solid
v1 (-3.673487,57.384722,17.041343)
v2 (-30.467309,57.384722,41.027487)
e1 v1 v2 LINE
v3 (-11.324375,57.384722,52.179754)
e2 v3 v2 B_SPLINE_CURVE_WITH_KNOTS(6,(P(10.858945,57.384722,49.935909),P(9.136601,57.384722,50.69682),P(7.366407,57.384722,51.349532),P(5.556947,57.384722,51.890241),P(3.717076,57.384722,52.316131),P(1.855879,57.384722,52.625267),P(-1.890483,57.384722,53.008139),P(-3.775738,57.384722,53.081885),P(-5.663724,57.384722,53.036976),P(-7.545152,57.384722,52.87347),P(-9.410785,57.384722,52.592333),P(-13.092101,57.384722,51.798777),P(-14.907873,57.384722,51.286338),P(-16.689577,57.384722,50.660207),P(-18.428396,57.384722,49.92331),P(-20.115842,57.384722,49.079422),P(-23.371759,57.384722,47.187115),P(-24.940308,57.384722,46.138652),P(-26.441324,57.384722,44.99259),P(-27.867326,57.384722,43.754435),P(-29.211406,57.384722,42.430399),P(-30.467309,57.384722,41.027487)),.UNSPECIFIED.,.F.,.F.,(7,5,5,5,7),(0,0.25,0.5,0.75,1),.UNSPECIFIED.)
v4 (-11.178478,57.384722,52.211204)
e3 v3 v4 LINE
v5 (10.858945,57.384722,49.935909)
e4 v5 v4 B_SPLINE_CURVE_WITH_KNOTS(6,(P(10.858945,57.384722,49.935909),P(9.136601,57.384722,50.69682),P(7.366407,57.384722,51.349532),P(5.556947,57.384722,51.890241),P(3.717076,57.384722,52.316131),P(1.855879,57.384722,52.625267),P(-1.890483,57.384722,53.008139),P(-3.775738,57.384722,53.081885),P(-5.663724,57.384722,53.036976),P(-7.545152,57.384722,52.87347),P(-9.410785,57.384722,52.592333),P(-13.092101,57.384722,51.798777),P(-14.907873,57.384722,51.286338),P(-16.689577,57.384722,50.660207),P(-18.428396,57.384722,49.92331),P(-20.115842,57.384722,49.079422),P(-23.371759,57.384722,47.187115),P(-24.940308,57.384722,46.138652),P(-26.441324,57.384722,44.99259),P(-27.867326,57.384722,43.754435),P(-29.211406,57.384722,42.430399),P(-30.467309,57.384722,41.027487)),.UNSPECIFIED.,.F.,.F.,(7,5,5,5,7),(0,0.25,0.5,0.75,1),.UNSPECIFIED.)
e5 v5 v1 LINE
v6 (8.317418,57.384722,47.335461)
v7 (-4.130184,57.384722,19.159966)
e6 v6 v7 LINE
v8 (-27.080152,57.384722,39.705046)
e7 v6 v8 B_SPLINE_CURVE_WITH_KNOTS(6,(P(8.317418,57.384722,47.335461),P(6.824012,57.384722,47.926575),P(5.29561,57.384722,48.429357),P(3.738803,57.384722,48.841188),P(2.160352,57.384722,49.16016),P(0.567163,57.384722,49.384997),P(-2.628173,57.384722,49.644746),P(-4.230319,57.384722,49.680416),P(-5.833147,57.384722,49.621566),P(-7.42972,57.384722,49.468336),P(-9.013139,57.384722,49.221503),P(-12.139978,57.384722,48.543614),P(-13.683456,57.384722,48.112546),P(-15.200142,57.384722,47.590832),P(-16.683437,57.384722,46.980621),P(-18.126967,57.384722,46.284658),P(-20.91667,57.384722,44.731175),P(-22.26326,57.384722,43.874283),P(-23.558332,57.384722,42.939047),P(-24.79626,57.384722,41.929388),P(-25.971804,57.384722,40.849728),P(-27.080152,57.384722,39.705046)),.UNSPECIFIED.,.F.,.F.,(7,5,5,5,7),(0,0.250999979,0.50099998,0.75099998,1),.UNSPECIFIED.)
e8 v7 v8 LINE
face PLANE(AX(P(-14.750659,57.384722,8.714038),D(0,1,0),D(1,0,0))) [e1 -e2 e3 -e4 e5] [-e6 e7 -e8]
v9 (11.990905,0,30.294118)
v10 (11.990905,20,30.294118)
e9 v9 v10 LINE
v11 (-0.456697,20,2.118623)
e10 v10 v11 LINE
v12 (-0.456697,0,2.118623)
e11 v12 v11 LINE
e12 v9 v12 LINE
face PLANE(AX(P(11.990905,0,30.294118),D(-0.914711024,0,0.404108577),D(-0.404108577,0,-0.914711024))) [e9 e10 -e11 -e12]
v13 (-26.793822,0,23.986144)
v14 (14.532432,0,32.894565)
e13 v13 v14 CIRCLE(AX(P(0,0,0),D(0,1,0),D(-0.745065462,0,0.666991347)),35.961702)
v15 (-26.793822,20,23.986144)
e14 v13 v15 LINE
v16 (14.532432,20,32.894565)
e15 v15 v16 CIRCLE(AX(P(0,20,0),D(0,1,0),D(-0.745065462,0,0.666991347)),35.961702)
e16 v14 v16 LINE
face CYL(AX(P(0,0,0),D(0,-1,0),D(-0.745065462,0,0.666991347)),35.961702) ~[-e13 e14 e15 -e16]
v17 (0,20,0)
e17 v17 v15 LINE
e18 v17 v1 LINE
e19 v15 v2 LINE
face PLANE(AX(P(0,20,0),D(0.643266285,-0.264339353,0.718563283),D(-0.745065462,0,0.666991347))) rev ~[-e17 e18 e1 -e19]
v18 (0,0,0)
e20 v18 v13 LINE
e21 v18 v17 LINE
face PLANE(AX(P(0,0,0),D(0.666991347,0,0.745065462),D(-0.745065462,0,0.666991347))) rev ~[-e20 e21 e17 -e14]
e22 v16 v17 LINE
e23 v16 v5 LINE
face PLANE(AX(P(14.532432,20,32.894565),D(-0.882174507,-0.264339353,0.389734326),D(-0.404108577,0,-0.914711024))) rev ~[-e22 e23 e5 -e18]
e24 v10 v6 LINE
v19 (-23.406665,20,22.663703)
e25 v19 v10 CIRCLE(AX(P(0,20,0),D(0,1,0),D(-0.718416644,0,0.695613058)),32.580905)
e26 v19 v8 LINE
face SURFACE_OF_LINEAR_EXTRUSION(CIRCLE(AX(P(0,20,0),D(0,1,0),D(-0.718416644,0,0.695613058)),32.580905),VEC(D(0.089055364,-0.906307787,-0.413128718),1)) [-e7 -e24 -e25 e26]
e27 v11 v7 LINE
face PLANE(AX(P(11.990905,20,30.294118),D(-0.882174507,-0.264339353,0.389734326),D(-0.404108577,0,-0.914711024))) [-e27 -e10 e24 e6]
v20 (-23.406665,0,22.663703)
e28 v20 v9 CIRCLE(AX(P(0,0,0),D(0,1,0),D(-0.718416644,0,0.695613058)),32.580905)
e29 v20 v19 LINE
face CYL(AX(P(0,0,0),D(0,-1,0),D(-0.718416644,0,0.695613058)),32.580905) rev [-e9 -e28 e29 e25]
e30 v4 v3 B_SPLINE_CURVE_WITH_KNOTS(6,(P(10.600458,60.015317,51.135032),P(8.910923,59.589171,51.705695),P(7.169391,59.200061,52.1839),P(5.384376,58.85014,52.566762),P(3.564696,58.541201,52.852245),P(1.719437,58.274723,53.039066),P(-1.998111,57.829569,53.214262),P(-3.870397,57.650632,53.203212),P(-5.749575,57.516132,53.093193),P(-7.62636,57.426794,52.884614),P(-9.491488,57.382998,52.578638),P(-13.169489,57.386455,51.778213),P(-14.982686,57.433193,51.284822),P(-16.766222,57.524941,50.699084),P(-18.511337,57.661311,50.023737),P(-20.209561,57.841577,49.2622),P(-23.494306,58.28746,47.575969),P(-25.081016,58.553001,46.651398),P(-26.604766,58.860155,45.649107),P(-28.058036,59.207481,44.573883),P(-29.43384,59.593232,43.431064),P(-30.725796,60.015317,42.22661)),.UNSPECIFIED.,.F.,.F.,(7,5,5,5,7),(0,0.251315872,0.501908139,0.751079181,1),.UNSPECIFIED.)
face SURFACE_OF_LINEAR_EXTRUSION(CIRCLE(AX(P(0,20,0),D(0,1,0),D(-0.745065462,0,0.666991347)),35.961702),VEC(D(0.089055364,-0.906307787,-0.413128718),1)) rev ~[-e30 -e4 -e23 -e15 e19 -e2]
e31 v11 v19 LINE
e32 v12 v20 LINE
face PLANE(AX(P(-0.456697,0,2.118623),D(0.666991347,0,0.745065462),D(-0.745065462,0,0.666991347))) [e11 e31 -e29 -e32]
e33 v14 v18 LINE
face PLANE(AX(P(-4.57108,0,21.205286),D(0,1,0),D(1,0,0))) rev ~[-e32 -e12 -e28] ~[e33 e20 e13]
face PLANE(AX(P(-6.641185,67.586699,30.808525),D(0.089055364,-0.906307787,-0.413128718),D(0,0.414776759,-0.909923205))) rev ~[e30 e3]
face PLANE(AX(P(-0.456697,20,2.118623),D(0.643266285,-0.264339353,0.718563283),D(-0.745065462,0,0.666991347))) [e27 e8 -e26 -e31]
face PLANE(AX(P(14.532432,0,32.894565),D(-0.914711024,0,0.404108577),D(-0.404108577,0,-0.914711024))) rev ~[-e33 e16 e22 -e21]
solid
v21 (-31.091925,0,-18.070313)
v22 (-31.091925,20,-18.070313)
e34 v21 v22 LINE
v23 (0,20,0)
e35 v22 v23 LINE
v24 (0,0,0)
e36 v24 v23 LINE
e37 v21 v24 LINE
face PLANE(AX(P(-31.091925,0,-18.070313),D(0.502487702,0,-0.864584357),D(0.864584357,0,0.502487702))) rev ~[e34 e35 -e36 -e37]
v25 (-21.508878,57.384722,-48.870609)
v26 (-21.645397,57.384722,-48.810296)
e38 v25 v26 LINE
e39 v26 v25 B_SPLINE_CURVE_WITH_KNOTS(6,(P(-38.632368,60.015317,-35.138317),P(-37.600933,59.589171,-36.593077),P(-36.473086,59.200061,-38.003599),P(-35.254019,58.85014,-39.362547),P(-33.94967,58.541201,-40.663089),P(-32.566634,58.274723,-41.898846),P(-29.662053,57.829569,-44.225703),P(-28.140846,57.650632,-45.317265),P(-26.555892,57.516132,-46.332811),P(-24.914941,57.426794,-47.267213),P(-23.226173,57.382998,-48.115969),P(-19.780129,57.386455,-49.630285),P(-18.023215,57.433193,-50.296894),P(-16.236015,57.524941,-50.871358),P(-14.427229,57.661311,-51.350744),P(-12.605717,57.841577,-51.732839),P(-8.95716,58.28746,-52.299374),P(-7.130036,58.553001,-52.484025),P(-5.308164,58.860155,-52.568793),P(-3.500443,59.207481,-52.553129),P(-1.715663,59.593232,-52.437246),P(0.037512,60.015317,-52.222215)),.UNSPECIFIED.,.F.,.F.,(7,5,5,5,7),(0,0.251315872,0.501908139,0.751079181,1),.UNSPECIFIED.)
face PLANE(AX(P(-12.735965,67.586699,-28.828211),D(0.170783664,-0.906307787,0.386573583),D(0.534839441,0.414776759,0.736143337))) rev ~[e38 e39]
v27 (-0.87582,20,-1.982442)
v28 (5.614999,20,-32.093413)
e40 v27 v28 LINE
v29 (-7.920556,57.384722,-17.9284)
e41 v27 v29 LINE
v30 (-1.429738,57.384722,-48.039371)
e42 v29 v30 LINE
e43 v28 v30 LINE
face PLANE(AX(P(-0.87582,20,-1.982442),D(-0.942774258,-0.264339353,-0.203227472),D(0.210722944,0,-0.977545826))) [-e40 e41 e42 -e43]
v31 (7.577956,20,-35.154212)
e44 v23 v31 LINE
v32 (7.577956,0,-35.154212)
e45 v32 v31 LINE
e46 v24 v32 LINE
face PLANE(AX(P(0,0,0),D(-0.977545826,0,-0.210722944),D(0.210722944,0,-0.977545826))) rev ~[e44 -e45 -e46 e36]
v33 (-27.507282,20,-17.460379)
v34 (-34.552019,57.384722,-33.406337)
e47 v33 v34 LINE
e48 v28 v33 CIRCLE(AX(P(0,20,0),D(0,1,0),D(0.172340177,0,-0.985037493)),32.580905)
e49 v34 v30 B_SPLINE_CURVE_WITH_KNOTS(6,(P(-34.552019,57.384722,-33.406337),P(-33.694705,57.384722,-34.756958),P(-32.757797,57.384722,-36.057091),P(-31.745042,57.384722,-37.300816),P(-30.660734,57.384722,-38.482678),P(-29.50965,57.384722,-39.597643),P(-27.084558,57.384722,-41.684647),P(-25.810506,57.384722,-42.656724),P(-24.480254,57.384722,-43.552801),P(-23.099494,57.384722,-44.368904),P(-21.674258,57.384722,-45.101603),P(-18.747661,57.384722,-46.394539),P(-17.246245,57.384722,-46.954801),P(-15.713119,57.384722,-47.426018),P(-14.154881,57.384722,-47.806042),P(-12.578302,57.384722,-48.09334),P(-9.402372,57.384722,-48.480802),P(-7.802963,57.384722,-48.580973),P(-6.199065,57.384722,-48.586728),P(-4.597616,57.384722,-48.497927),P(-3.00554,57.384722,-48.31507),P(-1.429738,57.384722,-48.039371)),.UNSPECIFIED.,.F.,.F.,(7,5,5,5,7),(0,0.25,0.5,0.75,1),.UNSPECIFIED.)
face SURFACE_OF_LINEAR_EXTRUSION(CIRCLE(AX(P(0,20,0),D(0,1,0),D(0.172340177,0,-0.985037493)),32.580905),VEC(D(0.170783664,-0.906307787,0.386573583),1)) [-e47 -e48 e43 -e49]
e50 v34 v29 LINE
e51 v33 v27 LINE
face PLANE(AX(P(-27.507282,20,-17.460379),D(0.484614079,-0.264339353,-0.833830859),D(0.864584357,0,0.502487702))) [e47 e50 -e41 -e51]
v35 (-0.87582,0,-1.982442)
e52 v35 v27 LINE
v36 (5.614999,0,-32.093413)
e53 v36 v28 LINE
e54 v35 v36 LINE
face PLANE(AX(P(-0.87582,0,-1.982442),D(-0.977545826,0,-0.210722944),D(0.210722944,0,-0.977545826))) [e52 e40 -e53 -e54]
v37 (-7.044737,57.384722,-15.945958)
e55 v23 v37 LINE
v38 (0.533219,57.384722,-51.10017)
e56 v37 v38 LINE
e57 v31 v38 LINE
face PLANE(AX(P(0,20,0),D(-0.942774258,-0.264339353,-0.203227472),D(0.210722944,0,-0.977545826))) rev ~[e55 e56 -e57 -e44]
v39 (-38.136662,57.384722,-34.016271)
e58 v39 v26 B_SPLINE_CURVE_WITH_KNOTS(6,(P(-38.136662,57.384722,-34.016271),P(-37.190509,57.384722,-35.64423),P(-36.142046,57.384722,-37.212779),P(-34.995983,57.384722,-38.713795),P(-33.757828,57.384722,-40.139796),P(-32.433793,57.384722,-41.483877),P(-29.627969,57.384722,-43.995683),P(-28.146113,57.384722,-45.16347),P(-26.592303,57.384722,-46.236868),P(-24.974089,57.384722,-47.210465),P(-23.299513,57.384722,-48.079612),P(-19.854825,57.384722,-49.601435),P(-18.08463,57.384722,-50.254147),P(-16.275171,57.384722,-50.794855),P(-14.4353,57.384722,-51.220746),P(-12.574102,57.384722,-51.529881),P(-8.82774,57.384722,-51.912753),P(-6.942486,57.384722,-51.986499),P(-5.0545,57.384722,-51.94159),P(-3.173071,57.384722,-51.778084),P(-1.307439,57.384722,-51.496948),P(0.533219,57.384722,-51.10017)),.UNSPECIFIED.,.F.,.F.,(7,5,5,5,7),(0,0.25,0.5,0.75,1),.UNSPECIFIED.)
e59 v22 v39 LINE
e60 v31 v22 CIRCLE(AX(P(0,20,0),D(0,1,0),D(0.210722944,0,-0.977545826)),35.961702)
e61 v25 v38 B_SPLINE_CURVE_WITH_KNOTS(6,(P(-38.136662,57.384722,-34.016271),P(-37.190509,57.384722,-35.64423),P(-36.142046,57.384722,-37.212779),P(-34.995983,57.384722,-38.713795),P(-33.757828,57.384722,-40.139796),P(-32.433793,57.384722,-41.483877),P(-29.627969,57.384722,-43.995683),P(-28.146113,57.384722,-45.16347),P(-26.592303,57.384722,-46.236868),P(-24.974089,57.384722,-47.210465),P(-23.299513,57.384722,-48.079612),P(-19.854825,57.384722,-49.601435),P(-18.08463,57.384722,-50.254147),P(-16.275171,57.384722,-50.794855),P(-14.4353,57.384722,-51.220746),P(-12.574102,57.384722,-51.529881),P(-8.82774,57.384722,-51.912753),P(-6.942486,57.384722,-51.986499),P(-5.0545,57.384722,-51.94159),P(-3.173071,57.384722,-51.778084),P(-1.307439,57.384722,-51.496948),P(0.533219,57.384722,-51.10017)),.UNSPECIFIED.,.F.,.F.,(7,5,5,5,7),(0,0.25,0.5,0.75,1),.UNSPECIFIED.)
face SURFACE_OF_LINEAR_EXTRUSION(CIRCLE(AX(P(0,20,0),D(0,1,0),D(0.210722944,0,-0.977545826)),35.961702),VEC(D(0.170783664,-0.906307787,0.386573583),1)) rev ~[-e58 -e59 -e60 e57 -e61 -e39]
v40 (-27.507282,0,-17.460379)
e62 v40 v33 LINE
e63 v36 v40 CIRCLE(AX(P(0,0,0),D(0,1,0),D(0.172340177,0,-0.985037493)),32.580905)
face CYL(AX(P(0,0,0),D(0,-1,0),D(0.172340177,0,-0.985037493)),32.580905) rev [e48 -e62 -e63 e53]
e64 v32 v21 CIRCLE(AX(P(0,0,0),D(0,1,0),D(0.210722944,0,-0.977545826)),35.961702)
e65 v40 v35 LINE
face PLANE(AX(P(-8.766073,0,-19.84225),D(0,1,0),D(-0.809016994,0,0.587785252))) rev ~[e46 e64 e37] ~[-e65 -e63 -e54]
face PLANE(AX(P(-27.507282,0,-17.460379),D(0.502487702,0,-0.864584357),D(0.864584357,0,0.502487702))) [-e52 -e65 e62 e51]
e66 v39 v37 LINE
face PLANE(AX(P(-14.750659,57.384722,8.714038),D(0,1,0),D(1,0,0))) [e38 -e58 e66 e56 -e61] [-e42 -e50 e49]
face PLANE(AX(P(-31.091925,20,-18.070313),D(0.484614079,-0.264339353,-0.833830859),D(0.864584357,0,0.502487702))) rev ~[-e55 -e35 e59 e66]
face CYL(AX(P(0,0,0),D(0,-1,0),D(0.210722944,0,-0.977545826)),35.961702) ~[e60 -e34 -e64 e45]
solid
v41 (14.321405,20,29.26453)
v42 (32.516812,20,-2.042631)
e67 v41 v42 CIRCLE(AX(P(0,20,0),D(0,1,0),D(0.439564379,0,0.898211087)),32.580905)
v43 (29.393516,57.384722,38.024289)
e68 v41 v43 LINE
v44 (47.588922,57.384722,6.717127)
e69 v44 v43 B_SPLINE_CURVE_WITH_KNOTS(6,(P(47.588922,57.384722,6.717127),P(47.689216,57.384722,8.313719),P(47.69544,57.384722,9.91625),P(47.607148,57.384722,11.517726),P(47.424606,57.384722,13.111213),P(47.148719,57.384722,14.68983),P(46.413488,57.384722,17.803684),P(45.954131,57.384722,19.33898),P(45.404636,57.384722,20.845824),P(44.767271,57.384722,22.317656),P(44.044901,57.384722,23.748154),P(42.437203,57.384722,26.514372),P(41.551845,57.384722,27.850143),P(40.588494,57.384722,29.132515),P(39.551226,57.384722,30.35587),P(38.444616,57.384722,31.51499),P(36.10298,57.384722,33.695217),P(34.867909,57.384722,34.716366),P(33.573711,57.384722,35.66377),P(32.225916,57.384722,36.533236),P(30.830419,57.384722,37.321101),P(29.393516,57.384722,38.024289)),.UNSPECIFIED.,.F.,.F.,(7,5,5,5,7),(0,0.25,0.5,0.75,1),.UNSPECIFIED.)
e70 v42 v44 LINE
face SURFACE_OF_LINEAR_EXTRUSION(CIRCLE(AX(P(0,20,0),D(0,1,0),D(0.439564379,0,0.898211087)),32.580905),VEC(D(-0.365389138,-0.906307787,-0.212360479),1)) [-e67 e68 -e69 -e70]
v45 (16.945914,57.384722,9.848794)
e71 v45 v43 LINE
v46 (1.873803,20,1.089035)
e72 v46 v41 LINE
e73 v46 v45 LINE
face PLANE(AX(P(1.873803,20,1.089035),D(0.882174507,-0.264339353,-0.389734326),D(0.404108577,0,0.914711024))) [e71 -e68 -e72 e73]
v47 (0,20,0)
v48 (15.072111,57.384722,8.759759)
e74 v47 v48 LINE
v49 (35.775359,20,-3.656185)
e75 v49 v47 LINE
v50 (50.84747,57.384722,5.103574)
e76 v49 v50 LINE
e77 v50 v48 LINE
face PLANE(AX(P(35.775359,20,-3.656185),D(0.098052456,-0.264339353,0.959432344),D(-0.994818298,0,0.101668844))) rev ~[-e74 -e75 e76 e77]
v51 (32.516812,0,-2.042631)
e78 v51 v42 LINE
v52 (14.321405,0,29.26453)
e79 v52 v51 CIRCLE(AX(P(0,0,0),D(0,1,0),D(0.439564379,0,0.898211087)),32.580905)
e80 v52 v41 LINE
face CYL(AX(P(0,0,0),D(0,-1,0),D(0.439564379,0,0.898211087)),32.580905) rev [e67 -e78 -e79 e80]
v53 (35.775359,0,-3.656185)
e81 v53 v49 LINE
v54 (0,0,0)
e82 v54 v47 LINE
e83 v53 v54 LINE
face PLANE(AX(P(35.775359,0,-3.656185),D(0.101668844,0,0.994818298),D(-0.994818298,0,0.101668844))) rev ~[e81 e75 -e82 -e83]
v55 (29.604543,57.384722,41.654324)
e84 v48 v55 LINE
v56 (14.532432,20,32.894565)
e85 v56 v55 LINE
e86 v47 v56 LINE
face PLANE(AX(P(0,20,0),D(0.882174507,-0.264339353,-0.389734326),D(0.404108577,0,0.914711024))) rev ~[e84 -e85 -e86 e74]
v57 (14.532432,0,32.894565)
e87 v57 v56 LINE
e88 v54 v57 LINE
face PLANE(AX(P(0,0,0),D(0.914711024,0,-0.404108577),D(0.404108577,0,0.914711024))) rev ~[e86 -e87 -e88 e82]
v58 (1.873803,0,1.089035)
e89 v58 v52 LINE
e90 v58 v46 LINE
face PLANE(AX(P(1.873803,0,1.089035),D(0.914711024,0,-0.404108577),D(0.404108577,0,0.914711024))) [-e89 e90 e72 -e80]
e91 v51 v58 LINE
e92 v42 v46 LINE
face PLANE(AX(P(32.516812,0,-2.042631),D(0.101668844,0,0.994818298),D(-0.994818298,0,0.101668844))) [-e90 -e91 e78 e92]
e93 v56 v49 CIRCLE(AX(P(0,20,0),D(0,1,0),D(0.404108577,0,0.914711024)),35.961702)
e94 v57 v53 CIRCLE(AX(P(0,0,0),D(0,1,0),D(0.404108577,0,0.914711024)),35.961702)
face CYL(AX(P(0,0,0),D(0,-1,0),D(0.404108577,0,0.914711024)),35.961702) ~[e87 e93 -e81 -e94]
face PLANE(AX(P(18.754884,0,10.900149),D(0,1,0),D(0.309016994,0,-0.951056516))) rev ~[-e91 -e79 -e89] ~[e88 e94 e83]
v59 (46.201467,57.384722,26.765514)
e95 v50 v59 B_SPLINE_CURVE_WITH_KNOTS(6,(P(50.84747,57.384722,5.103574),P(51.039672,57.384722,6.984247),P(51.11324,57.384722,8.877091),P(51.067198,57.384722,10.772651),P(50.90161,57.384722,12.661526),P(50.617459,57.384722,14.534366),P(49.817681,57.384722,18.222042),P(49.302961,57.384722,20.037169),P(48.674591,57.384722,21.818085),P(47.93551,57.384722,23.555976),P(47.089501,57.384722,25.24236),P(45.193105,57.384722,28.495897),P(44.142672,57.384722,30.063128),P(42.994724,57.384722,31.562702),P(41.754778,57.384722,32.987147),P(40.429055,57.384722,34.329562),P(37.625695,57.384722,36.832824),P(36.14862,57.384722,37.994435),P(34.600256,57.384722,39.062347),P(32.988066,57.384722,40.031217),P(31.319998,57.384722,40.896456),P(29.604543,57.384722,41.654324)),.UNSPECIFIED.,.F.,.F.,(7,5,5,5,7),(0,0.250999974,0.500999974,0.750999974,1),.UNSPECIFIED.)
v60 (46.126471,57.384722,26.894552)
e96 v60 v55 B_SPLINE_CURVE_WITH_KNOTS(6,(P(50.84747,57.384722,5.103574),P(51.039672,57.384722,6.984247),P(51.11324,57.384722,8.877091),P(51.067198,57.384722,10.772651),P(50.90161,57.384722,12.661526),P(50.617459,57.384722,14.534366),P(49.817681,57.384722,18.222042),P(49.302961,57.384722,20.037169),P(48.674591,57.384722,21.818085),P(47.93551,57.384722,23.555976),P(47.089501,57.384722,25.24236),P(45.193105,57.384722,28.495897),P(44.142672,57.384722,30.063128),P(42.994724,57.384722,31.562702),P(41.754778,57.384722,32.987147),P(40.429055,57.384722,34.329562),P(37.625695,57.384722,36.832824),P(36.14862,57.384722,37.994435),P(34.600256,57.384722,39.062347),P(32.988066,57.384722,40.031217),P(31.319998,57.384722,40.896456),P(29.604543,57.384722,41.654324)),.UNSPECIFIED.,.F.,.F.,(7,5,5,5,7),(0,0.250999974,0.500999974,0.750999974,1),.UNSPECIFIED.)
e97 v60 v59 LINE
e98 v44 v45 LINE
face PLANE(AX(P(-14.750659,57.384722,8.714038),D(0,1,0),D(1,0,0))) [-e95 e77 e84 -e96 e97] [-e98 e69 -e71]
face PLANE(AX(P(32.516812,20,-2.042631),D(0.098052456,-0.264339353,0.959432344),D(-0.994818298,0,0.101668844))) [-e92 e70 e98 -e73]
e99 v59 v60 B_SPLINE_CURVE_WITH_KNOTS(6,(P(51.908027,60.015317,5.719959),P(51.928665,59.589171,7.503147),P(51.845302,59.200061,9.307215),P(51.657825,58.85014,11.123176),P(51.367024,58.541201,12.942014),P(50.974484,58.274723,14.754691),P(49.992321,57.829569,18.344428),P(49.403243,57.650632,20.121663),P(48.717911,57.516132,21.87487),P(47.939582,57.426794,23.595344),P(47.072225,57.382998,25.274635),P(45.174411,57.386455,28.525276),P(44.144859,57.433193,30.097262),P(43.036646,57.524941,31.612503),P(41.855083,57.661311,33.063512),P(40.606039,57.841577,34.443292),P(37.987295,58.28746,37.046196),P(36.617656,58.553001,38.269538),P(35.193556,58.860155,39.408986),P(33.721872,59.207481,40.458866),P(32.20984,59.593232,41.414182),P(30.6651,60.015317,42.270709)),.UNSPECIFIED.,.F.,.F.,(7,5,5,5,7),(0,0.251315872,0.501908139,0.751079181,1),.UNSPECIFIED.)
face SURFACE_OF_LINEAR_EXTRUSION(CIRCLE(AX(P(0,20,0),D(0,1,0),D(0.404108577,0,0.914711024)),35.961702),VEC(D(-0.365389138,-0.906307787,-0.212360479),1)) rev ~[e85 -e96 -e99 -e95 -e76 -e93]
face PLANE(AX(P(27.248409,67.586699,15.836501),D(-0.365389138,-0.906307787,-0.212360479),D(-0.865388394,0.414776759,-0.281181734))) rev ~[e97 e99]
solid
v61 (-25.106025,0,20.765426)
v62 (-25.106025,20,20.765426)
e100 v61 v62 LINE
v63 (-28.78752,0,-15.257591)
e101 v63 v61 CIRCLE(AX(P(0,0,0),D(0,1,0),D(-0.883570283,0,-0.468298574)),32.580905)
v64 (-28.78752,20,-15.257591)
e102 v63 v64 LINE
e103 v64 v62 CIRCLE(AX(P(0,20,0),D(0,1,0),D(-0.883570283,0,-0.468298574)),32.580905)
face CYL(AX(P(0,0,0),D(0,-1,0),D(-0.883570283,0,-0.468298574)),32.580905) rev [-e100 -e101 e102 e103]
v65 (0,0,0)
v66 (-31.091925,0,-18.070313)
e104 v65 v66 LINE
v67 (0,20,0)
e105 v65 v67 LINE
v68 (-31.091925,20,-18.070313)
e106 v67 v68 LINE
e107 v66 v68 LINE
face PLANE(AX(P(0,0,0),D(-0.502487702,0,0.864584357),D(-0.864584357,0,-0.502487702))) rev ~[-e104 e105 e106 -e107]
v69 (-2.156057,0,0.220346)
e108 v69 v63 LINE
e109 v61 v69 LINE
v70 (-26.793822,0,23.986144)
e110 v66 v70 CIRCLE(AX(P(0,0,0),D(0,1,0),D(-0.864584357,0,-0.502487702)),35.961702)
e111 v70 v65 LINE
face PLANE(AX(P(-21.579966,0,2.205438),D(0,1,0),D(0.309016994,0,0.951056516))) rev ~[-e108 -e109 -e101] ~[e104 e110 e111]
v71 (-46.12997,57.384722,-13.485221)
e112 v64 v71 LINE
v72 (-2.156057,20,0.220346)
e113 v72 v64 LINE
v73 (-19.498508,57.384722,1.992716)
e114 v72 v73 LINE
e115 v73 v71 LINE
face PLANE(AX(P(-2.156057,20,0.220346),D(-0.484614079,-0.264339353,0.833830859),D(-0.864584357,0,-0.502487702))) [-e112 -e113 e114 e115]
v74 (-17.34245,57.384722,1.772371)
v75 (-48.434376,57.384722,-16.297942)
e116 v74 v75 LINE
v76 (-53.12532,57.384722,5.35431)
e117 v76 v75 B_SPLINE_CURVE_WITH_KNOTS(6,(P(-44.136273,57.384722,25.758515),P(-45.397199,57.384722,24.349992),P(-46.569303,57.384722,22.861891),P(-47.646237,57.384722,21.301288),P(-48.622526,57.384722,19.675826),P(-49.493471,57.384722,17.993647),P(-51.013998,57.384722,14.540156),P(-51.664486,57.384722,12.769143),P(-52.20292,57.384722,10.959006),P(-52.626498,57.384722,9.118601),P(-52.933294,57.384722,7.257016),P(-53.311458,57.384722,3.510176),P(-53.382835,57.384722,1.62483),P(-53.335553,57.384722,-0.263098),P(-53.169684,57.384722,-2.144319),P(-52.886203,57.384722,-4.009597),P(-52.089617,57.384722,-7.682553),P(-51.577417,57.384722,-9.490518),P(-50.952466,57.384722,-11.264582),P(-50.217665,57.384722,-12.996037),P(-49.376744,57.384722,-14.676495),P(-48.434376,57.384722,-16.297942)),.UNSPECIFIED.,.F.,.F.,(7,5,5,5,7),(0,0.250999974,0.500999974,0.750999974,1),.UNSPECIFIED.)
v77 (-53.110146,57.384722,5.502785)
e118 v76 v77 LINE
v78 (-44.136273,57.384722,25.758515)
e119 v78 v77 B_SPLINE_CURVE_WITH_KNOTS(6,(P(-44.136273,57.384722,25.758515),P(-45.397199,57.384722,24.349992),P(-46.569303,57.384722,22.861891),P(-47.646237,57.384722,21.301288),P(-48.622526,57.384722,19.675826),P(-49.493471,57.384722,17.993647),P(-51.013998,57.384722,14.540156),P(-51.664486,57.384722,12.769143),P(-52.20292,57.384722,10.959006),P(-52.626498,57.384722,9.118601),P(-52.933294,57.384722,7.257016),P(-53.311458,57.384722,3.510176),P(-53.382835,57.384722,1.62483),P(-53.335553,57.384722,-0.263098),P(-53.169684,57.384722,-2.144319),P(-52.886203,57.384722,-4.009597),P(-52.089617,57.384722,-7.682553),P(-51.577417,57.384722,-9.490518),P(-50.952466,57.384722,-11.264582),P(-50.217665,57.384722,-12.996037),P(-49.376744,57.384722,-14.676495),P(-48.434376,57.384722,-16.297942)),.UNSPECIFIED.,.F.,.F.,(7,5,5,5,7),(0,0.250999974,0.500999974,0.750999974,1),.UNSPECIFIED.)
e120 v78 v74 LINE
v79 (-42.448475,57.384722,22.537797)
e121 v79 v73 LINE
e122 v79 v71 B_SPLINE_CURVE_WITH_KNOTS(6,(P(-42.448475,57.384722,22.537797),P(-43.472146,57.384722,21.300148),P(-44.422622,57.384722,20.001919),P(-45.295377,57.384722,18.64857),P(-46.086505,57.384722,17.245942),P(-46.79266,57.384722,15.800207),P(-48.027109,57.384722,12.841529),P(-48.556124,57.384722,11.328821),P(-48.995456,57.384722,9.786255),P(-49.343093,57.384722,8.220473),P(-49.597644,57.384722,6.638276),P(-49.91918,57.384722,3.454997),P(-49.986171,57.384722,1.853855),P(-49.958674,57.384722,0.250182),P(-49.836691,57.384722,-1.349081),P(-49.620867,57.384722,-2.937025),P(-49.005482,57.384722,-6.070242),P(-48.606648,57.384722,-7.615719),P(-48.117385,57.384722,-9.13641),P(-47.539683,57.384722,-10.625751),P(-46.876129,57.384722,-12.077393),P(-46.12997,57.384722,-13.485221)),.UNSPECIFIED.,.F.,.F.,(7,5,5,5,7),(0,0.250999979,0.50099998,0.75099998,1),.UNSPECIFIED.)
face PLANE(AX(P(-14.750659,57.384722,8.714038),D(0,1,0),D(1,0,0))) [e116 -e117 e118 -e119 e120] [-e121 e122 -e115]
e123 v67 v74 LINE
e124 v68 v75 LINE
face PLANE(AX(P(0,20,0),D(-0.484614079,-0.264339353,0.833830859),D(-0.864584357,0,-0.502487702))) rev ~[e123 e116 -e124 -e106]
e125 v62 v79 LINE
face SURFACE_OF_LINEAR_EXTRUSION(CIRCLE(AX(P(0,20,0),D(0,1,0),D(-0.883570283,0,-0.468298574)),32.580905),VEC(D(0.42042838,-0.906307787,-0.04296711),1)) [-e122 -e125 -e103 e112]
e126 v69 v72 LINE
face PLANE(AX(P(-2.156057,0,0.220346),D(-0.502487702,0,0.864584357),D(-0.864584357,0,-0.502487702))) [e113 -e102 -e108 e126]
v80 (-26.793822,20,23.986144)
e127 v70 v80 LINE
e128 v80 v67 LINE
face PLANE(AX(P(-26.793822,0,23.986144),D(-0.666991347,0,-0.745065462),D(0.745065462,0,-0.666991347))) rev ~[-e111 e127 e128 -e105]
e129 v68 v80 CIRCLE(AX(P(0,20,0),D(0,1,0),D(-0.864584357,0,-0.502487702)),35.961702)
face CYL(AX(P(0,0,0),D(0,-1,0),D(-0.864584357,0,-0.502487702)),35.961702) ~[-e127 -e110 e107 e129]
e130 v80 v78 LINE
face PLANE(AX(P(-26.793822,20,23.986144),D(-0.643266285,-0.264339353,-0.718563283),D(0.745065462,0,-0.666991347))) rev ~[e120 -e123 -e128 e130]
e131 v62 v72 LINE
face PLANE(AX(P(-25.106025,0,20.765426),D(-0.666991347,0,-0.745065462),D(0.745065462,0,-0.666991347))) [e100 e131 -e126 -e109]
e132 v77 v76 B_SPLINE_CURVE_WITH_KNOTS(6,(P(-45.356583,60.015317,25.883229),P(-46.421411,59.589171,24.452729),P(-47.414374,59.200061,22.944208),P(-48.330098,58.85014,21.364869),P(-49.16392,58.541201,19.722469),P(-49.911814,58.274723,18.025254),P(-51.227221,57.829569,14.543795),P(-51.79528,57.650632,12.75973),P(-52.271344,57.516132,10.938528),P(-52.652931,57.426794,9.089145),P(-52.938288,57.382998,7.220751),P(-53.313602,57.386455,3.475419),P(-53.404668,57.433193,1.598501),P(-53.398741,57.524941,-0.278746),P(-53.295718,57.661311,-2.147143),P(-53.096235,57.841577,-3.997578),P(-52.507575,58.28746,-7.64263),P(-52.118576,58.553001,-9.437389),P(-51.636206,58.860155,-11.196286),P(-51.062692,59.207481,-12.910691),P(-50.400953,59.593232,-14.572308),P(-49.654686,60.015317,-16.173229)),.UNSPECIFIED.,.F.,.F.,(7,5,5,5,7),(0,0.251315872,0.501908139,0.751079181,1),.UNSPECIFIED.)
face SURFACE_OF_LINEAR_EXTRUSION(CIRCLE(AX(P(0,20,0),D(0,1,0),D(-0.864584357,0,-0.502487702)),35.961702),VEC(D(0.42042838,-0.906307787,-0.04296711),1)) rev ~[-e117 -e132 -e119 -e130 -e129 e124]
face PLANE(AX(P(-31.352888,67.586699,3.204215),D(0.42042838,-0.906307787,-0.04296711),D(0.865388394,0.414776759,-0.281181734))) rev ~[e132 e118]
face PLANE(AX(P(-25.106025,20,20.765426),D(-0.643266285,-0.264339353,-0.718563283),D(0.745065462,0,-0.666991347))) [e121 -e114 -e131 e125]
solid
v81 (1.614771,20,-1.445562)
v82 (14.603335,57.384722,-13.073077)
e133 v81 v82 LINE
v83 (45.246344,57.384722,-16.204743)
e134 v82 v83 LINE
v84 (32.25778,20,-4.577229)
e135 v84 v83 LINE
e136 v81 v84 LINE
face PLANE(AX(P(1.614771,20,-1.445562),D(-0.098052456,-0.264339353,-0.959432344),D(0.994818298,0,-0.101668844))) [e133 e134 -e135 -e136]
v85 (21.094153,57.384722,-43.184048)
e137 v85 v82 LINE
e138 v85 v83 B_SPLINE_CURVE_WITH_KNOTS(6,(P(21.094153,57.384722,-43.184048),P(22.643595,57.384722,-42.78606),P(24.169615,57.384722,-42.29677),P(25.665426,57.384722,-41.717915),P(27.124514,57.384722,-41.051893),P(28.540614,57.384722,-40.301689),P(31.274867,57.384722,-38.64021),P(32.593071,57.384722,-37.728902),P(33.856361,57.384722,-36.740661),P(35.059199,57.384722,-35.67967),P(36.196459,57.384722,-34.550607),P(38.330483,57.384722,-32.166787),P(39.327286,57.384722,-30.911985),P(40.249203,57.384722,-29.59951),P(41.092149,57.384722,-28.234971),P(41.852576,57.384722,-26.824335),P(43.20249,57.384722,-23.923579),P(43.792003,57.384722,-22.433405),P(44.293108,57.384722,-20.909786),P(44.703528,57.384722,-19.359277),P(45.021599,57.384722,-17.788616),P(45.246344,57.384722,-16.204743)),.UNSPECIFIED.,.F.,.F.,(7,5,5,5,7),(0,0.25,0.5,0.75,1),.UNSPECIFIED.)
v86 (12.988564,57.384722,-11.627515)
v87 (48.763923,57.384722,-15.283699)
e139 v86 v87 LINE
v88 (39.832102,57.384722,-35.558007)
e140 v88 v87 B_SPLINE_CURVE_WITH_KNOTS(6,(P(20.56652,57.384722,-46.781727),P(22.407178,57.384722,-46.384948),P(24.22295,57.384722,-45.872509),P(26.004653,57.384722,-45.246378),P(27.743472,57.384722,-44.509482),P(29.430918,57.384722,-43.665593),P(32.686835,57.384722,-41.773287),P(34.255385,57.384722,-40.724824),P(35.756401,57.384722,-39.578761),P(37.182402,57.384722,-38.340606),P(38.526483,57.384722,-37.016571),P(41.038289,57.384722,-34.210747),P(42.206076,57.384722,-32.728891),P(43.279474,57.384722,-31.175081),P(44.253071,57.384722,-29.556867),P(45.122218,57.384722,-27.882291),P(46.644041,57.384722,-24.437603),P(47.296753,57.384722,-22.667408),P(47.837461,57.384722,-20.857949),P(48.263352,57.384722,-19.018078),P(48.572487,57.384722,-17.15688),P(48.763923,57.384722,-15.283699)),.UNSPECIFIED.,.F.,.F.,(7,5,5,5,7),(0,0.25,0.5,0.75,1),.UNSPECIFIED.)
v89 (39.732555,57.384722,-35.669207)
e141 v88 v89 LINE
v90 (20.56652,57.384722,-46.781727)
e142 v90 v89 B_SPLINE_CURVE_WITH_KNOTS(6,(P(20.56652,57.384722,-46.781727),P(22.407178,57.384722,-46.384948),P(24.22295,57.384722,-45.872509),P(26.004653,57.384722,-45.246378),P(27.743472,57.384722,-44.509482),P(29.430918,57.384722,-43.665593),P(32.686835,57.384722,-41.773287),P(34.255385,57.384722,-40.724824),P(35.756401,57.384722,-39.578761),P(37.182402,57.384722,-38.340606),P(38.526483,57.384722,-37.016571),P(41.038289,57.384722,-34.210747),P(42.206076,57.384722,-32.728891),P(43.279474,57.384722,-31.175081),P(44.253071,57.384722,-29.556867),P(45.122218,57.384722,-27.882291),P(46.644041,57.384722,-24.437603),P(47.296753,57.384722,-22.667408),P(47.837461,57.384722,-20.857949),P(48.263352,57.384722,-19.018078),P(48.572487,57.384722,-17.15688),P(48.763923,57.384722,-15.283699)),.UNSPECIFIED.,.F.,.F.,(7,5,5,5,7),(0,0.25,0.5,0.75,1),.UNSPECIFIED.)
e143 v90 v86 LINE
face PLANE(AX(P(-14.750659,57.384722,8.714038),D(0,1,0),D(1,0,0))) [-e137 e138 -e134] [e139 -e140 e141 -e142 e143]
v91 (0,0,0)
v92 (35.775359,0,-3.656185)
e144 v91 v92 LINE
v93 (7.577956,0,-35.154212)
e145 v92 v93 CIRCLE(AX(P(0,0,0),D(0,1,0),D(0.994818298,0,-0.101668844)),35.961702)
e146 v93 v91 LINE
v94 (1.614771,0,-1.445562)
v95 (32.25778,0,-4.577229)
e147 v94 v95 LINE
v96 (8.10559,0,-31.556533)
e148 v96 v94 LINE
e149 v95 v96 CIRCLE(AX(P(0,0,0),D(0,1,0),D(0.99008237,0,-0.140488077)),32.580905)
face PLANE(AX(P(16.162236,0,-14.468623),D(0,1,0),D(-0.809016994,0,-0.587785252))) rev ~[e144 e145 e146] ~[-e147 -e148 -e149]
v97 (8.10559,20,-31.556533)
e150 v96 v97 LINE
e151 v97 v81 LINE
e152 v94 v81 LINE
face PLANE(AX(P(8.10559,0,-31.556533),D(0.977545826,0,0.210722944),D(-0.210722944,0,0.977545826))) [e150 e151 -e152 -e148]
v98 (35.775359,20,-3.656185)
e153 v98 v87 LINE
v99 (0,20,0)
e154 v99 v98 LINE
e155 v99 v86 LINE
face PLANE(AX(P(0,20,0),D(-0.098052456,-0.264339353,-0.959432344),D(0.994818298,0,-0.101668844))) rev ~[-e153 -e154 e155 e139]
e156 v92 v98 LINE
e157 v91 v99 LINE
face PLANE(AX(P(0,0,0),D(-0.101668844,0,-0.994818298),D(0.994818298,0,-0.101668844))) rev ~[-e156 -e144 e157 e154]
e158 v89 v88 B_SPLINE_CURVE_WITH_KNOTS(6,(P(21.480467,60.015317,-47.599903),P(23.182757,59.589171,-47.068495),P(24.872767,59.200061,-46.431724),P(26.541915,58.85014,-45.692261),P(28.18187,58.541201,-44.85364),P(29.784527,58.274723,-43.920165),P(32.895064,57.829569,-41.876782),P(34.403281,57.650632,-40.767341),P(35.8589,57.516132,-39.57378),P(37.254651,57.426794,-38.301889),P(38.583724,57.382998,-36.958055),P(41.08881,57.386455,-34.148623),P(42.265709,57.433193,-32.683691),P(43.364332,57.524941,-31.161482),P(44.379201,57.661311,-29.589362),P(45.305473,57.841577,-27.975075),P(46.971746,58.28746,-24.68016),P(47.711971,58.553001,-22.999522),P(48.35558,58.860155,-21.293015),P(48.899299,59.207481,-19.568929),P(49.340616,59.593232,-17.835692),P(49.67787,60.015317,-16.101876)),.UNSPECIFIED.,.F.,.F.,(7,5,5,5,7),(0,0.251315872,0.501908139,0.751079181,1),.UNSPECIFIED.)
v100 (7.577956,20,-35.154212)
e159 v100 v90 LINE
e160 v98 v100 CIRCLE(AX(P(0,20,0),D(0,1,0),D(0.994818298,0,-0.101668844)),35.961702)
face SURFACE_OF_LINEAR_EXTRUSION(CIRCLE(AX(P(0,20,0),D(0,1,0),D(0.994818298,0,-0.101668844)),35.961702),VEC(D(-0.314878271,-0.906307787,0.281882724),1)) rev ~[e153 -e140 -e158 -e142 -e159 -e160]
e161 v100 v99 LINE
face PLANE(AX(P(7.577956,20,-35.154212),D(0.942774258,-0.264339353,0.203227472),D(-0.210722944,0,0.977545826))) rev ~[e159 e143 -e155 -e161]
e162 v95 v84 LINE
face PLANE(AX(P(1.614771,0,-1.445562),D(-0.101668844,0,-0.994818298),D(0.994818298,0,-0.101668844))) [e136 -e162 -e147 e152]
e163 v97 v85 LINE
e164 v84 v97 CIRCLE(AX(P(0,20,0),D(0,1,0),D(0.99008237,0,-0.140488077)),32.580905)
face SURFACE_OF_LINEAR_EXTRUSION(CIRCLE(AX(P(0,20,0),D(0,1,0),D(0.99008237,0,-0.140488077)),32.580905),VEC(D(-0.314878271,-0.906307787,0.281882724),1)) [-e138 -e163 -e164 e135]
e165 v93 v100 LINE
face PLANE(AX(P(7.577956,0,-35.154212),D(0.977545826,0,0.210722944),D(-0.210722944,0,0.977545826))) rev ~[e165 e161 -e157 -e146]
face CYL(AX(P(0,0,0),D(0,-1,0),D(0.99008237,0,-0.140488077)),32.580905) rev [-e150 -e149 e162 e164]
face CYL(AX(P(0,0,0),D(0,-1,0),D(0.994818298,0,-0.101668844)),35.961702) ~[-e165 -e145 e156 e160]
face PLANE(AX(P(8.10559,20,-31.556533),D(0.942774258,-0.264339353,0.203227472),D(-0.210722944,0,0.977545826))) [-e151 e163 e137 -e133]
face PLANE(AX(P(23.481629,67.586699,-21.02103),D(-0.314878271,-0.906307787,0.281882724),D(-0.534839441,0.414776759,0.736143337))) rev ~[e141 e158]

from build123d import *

# Parameters (mm, degrees)
BOSS_EXTRUDE1_DEPTH = 20
BOSS_EXTRUDE2_REACH = 128.869
CIRPATTERN1_COUNT   = 5
SKETCH5_W           = 180.779020629
SKETCH5_H           = 221.21381005
CUT_EXTRUDE1_DEPTH  = 95.689142857


with BuildPart() as part:
    # Sketch1 → Boss-Extrude1 (new body)
    with BuildSketch(Plane(origin=(0, 0, 0), x_dir=(1, 0, 0), z_dir=(0, 1, 0))):
        with BuildLine():
            Line((0, 0), (-26.793822286, -23.986144202))
            ThreePointArc((-26.793822286, -23.986144202), (-7.577955752, -35.154211881), (14.532432314, -32.894565469))
            Line((14.532432314, -32.894565469), (0, 0))
        make_face()
        with BuildLine():
            Line((-0.456697225, -2.118622956), (-23.40666458, -22.663703107))
            ThreePointArc((-23.40666458, -22.663703107), (-6.865544258, -31.849327894), (11.990905198, -30.294117875))
            Line((11.990905198, -30.294117875), (-0.456697225, -2.118622956))
        make_face(mode=Mode.SUBTRACT)
    extrude(amount=BOSS_EXTRUDE1_DEPTH)

    # Boss-Extrude2: up to this plane
    boss_extrude2_end = Plane(origin=(-6.641185463, 67.586699078, 30.80852522), z_dir=(0.08905536417875298, -0.906307787036651, -0.4131287175538856))
    # Sketch4 → Boss-Extrude2 (add, up to the surface)
    with BuildSketch(Plane(origin=(0, 20, 0), x_dir=(1, 0, 0), z_dir=(0, 1, 0)), mode=Mode.PRIVATE) as boss_extrude2_sk1:
        with BuildLine():
            Line((14.532432314, -32.894565469), (0, 0))
            Line((0, 0), (-26.793822286, -23.986144202))
            ThreePointArc((-26.793822286, -23.986144202), (-7.577955752, -35.154211881), (14.532432314, -32.894565469))
        make_face()
        with BuildLine():
            Line((-0.456697225, -2.118622956), (-23.40666458, -22.663703107))
            ThreePointArc((-23.40666458, -22.663703107), (-6.865544258, -31.849327894), (11.990905198, -30.294117875))
            Line((11.990905198, -30.294117875), (-0.456697225, -2.118622956))
        make_face(mode=Mode.SUBTRACT)
    boss_extrude2_tool1 = split(extrude(boss_extrude2_sk1.sketch, amount=BOSS_EXTRUDE2_REACH, dir=(-0.089055364179, 0.906307787037, 0.413128717554), mode=Mode.PRIVATE), bisect_by=boss_extrude2_end, keep=Keep.BOTH, mode=Mode.PRIVATE)
    add(boss_extrude2_tool1.solids().sort_by_distance((6.765116, 20, 16.668663))[0])


with BuildPart() as cirpattern1_1:
    # CirPattern1: pattern copy
    add(part.part.rotate(Axis((0, 20, 0), (0, -1, 0)), 1 * 360 / CIRPATTERN1_COUNT))


with BuildPart() as cirpattern1_2:
    # CirPattern1: pattern copy
    add(part.part.rotate(Axis((0, 20, 0), (0, -1, 0)), 2 * 360 / CIRPATTERN1_COUNT))


with BuildPart() as cirpattern1_3:
    # CirPattern1: pattern copy
    add(part.part.rotate(Axis((0, 20, 0), (0, -1, 0)), 3 * 360 / CIRPATTERN1_COUNT))


with BuildPart() as cirpattern1_4:
    # CirPattern1: pattern copy
    add(part.part.rotate(Axis((0, 20, 0), (0, -1, 0)), 4 * 360 / CIRPATTERN1_COUNT))


with BuildPart() as cut_extrude1_tool:
    # Sketch5 → Cut-Extrude1 (new, through all)
    with BuildSketch(Plane(origin=(0, 57.384721563, 0), x_dir=(1, 0, 0), z_dir=(0, 1, 0))):
        with Locations((-14.750659077, -8.714038408)):
            Rectangle(SKETCH5_W, SKETCH5_H)
    extrude(amount=CUT_EXTRUDE1_DEPTH)


with BuildPart() as part_1:
    add(part.part)

    # Cut-Extrude1: cut by cut_extrude1_tool
    add(cut_extrude1_tool.part, mode=Mode.SUBTRACT)


with BuildPart() as cirpattern1_1_1:
    add(cirpattern1_1.part)

    # Cut-Extrude1: cut by cut_extrude1_tool
    add(cut_extrude1_tool.part, mode=Mode.SUBTRACT)


with BuildPart() as cirpattern1_2_1:
    add(cirpattern1_2.part)

    # Cut-Extrude1: cut by cut_extrude1_tool
    add(cut_extrude1_tool.part, mode=Mode.SUBTRACT)


with BuildPart() as cirpattern1_3_1:
    add(cirpattern1_3.part)

    # Cut-Extrude1: cut by cut_extrude1_tool
    add(cut_extrude1_tool.part, mode=Mode.SUBTRACT)


with BuildPart() as cirpattern1_4_1:
    add(cirpattern1_4.part)

    # Cut-Extrude1: cut by cut_extrude1_tool
    add(cut_extrude1_tool.part, mode=Mode.SUBTRACT)


solid = Compound([part_1.part, cirpattern1_1_1.part, cirpattern1_2_1.part, cirpattern1_3_1.part, cirpattern1_4_1.part])
